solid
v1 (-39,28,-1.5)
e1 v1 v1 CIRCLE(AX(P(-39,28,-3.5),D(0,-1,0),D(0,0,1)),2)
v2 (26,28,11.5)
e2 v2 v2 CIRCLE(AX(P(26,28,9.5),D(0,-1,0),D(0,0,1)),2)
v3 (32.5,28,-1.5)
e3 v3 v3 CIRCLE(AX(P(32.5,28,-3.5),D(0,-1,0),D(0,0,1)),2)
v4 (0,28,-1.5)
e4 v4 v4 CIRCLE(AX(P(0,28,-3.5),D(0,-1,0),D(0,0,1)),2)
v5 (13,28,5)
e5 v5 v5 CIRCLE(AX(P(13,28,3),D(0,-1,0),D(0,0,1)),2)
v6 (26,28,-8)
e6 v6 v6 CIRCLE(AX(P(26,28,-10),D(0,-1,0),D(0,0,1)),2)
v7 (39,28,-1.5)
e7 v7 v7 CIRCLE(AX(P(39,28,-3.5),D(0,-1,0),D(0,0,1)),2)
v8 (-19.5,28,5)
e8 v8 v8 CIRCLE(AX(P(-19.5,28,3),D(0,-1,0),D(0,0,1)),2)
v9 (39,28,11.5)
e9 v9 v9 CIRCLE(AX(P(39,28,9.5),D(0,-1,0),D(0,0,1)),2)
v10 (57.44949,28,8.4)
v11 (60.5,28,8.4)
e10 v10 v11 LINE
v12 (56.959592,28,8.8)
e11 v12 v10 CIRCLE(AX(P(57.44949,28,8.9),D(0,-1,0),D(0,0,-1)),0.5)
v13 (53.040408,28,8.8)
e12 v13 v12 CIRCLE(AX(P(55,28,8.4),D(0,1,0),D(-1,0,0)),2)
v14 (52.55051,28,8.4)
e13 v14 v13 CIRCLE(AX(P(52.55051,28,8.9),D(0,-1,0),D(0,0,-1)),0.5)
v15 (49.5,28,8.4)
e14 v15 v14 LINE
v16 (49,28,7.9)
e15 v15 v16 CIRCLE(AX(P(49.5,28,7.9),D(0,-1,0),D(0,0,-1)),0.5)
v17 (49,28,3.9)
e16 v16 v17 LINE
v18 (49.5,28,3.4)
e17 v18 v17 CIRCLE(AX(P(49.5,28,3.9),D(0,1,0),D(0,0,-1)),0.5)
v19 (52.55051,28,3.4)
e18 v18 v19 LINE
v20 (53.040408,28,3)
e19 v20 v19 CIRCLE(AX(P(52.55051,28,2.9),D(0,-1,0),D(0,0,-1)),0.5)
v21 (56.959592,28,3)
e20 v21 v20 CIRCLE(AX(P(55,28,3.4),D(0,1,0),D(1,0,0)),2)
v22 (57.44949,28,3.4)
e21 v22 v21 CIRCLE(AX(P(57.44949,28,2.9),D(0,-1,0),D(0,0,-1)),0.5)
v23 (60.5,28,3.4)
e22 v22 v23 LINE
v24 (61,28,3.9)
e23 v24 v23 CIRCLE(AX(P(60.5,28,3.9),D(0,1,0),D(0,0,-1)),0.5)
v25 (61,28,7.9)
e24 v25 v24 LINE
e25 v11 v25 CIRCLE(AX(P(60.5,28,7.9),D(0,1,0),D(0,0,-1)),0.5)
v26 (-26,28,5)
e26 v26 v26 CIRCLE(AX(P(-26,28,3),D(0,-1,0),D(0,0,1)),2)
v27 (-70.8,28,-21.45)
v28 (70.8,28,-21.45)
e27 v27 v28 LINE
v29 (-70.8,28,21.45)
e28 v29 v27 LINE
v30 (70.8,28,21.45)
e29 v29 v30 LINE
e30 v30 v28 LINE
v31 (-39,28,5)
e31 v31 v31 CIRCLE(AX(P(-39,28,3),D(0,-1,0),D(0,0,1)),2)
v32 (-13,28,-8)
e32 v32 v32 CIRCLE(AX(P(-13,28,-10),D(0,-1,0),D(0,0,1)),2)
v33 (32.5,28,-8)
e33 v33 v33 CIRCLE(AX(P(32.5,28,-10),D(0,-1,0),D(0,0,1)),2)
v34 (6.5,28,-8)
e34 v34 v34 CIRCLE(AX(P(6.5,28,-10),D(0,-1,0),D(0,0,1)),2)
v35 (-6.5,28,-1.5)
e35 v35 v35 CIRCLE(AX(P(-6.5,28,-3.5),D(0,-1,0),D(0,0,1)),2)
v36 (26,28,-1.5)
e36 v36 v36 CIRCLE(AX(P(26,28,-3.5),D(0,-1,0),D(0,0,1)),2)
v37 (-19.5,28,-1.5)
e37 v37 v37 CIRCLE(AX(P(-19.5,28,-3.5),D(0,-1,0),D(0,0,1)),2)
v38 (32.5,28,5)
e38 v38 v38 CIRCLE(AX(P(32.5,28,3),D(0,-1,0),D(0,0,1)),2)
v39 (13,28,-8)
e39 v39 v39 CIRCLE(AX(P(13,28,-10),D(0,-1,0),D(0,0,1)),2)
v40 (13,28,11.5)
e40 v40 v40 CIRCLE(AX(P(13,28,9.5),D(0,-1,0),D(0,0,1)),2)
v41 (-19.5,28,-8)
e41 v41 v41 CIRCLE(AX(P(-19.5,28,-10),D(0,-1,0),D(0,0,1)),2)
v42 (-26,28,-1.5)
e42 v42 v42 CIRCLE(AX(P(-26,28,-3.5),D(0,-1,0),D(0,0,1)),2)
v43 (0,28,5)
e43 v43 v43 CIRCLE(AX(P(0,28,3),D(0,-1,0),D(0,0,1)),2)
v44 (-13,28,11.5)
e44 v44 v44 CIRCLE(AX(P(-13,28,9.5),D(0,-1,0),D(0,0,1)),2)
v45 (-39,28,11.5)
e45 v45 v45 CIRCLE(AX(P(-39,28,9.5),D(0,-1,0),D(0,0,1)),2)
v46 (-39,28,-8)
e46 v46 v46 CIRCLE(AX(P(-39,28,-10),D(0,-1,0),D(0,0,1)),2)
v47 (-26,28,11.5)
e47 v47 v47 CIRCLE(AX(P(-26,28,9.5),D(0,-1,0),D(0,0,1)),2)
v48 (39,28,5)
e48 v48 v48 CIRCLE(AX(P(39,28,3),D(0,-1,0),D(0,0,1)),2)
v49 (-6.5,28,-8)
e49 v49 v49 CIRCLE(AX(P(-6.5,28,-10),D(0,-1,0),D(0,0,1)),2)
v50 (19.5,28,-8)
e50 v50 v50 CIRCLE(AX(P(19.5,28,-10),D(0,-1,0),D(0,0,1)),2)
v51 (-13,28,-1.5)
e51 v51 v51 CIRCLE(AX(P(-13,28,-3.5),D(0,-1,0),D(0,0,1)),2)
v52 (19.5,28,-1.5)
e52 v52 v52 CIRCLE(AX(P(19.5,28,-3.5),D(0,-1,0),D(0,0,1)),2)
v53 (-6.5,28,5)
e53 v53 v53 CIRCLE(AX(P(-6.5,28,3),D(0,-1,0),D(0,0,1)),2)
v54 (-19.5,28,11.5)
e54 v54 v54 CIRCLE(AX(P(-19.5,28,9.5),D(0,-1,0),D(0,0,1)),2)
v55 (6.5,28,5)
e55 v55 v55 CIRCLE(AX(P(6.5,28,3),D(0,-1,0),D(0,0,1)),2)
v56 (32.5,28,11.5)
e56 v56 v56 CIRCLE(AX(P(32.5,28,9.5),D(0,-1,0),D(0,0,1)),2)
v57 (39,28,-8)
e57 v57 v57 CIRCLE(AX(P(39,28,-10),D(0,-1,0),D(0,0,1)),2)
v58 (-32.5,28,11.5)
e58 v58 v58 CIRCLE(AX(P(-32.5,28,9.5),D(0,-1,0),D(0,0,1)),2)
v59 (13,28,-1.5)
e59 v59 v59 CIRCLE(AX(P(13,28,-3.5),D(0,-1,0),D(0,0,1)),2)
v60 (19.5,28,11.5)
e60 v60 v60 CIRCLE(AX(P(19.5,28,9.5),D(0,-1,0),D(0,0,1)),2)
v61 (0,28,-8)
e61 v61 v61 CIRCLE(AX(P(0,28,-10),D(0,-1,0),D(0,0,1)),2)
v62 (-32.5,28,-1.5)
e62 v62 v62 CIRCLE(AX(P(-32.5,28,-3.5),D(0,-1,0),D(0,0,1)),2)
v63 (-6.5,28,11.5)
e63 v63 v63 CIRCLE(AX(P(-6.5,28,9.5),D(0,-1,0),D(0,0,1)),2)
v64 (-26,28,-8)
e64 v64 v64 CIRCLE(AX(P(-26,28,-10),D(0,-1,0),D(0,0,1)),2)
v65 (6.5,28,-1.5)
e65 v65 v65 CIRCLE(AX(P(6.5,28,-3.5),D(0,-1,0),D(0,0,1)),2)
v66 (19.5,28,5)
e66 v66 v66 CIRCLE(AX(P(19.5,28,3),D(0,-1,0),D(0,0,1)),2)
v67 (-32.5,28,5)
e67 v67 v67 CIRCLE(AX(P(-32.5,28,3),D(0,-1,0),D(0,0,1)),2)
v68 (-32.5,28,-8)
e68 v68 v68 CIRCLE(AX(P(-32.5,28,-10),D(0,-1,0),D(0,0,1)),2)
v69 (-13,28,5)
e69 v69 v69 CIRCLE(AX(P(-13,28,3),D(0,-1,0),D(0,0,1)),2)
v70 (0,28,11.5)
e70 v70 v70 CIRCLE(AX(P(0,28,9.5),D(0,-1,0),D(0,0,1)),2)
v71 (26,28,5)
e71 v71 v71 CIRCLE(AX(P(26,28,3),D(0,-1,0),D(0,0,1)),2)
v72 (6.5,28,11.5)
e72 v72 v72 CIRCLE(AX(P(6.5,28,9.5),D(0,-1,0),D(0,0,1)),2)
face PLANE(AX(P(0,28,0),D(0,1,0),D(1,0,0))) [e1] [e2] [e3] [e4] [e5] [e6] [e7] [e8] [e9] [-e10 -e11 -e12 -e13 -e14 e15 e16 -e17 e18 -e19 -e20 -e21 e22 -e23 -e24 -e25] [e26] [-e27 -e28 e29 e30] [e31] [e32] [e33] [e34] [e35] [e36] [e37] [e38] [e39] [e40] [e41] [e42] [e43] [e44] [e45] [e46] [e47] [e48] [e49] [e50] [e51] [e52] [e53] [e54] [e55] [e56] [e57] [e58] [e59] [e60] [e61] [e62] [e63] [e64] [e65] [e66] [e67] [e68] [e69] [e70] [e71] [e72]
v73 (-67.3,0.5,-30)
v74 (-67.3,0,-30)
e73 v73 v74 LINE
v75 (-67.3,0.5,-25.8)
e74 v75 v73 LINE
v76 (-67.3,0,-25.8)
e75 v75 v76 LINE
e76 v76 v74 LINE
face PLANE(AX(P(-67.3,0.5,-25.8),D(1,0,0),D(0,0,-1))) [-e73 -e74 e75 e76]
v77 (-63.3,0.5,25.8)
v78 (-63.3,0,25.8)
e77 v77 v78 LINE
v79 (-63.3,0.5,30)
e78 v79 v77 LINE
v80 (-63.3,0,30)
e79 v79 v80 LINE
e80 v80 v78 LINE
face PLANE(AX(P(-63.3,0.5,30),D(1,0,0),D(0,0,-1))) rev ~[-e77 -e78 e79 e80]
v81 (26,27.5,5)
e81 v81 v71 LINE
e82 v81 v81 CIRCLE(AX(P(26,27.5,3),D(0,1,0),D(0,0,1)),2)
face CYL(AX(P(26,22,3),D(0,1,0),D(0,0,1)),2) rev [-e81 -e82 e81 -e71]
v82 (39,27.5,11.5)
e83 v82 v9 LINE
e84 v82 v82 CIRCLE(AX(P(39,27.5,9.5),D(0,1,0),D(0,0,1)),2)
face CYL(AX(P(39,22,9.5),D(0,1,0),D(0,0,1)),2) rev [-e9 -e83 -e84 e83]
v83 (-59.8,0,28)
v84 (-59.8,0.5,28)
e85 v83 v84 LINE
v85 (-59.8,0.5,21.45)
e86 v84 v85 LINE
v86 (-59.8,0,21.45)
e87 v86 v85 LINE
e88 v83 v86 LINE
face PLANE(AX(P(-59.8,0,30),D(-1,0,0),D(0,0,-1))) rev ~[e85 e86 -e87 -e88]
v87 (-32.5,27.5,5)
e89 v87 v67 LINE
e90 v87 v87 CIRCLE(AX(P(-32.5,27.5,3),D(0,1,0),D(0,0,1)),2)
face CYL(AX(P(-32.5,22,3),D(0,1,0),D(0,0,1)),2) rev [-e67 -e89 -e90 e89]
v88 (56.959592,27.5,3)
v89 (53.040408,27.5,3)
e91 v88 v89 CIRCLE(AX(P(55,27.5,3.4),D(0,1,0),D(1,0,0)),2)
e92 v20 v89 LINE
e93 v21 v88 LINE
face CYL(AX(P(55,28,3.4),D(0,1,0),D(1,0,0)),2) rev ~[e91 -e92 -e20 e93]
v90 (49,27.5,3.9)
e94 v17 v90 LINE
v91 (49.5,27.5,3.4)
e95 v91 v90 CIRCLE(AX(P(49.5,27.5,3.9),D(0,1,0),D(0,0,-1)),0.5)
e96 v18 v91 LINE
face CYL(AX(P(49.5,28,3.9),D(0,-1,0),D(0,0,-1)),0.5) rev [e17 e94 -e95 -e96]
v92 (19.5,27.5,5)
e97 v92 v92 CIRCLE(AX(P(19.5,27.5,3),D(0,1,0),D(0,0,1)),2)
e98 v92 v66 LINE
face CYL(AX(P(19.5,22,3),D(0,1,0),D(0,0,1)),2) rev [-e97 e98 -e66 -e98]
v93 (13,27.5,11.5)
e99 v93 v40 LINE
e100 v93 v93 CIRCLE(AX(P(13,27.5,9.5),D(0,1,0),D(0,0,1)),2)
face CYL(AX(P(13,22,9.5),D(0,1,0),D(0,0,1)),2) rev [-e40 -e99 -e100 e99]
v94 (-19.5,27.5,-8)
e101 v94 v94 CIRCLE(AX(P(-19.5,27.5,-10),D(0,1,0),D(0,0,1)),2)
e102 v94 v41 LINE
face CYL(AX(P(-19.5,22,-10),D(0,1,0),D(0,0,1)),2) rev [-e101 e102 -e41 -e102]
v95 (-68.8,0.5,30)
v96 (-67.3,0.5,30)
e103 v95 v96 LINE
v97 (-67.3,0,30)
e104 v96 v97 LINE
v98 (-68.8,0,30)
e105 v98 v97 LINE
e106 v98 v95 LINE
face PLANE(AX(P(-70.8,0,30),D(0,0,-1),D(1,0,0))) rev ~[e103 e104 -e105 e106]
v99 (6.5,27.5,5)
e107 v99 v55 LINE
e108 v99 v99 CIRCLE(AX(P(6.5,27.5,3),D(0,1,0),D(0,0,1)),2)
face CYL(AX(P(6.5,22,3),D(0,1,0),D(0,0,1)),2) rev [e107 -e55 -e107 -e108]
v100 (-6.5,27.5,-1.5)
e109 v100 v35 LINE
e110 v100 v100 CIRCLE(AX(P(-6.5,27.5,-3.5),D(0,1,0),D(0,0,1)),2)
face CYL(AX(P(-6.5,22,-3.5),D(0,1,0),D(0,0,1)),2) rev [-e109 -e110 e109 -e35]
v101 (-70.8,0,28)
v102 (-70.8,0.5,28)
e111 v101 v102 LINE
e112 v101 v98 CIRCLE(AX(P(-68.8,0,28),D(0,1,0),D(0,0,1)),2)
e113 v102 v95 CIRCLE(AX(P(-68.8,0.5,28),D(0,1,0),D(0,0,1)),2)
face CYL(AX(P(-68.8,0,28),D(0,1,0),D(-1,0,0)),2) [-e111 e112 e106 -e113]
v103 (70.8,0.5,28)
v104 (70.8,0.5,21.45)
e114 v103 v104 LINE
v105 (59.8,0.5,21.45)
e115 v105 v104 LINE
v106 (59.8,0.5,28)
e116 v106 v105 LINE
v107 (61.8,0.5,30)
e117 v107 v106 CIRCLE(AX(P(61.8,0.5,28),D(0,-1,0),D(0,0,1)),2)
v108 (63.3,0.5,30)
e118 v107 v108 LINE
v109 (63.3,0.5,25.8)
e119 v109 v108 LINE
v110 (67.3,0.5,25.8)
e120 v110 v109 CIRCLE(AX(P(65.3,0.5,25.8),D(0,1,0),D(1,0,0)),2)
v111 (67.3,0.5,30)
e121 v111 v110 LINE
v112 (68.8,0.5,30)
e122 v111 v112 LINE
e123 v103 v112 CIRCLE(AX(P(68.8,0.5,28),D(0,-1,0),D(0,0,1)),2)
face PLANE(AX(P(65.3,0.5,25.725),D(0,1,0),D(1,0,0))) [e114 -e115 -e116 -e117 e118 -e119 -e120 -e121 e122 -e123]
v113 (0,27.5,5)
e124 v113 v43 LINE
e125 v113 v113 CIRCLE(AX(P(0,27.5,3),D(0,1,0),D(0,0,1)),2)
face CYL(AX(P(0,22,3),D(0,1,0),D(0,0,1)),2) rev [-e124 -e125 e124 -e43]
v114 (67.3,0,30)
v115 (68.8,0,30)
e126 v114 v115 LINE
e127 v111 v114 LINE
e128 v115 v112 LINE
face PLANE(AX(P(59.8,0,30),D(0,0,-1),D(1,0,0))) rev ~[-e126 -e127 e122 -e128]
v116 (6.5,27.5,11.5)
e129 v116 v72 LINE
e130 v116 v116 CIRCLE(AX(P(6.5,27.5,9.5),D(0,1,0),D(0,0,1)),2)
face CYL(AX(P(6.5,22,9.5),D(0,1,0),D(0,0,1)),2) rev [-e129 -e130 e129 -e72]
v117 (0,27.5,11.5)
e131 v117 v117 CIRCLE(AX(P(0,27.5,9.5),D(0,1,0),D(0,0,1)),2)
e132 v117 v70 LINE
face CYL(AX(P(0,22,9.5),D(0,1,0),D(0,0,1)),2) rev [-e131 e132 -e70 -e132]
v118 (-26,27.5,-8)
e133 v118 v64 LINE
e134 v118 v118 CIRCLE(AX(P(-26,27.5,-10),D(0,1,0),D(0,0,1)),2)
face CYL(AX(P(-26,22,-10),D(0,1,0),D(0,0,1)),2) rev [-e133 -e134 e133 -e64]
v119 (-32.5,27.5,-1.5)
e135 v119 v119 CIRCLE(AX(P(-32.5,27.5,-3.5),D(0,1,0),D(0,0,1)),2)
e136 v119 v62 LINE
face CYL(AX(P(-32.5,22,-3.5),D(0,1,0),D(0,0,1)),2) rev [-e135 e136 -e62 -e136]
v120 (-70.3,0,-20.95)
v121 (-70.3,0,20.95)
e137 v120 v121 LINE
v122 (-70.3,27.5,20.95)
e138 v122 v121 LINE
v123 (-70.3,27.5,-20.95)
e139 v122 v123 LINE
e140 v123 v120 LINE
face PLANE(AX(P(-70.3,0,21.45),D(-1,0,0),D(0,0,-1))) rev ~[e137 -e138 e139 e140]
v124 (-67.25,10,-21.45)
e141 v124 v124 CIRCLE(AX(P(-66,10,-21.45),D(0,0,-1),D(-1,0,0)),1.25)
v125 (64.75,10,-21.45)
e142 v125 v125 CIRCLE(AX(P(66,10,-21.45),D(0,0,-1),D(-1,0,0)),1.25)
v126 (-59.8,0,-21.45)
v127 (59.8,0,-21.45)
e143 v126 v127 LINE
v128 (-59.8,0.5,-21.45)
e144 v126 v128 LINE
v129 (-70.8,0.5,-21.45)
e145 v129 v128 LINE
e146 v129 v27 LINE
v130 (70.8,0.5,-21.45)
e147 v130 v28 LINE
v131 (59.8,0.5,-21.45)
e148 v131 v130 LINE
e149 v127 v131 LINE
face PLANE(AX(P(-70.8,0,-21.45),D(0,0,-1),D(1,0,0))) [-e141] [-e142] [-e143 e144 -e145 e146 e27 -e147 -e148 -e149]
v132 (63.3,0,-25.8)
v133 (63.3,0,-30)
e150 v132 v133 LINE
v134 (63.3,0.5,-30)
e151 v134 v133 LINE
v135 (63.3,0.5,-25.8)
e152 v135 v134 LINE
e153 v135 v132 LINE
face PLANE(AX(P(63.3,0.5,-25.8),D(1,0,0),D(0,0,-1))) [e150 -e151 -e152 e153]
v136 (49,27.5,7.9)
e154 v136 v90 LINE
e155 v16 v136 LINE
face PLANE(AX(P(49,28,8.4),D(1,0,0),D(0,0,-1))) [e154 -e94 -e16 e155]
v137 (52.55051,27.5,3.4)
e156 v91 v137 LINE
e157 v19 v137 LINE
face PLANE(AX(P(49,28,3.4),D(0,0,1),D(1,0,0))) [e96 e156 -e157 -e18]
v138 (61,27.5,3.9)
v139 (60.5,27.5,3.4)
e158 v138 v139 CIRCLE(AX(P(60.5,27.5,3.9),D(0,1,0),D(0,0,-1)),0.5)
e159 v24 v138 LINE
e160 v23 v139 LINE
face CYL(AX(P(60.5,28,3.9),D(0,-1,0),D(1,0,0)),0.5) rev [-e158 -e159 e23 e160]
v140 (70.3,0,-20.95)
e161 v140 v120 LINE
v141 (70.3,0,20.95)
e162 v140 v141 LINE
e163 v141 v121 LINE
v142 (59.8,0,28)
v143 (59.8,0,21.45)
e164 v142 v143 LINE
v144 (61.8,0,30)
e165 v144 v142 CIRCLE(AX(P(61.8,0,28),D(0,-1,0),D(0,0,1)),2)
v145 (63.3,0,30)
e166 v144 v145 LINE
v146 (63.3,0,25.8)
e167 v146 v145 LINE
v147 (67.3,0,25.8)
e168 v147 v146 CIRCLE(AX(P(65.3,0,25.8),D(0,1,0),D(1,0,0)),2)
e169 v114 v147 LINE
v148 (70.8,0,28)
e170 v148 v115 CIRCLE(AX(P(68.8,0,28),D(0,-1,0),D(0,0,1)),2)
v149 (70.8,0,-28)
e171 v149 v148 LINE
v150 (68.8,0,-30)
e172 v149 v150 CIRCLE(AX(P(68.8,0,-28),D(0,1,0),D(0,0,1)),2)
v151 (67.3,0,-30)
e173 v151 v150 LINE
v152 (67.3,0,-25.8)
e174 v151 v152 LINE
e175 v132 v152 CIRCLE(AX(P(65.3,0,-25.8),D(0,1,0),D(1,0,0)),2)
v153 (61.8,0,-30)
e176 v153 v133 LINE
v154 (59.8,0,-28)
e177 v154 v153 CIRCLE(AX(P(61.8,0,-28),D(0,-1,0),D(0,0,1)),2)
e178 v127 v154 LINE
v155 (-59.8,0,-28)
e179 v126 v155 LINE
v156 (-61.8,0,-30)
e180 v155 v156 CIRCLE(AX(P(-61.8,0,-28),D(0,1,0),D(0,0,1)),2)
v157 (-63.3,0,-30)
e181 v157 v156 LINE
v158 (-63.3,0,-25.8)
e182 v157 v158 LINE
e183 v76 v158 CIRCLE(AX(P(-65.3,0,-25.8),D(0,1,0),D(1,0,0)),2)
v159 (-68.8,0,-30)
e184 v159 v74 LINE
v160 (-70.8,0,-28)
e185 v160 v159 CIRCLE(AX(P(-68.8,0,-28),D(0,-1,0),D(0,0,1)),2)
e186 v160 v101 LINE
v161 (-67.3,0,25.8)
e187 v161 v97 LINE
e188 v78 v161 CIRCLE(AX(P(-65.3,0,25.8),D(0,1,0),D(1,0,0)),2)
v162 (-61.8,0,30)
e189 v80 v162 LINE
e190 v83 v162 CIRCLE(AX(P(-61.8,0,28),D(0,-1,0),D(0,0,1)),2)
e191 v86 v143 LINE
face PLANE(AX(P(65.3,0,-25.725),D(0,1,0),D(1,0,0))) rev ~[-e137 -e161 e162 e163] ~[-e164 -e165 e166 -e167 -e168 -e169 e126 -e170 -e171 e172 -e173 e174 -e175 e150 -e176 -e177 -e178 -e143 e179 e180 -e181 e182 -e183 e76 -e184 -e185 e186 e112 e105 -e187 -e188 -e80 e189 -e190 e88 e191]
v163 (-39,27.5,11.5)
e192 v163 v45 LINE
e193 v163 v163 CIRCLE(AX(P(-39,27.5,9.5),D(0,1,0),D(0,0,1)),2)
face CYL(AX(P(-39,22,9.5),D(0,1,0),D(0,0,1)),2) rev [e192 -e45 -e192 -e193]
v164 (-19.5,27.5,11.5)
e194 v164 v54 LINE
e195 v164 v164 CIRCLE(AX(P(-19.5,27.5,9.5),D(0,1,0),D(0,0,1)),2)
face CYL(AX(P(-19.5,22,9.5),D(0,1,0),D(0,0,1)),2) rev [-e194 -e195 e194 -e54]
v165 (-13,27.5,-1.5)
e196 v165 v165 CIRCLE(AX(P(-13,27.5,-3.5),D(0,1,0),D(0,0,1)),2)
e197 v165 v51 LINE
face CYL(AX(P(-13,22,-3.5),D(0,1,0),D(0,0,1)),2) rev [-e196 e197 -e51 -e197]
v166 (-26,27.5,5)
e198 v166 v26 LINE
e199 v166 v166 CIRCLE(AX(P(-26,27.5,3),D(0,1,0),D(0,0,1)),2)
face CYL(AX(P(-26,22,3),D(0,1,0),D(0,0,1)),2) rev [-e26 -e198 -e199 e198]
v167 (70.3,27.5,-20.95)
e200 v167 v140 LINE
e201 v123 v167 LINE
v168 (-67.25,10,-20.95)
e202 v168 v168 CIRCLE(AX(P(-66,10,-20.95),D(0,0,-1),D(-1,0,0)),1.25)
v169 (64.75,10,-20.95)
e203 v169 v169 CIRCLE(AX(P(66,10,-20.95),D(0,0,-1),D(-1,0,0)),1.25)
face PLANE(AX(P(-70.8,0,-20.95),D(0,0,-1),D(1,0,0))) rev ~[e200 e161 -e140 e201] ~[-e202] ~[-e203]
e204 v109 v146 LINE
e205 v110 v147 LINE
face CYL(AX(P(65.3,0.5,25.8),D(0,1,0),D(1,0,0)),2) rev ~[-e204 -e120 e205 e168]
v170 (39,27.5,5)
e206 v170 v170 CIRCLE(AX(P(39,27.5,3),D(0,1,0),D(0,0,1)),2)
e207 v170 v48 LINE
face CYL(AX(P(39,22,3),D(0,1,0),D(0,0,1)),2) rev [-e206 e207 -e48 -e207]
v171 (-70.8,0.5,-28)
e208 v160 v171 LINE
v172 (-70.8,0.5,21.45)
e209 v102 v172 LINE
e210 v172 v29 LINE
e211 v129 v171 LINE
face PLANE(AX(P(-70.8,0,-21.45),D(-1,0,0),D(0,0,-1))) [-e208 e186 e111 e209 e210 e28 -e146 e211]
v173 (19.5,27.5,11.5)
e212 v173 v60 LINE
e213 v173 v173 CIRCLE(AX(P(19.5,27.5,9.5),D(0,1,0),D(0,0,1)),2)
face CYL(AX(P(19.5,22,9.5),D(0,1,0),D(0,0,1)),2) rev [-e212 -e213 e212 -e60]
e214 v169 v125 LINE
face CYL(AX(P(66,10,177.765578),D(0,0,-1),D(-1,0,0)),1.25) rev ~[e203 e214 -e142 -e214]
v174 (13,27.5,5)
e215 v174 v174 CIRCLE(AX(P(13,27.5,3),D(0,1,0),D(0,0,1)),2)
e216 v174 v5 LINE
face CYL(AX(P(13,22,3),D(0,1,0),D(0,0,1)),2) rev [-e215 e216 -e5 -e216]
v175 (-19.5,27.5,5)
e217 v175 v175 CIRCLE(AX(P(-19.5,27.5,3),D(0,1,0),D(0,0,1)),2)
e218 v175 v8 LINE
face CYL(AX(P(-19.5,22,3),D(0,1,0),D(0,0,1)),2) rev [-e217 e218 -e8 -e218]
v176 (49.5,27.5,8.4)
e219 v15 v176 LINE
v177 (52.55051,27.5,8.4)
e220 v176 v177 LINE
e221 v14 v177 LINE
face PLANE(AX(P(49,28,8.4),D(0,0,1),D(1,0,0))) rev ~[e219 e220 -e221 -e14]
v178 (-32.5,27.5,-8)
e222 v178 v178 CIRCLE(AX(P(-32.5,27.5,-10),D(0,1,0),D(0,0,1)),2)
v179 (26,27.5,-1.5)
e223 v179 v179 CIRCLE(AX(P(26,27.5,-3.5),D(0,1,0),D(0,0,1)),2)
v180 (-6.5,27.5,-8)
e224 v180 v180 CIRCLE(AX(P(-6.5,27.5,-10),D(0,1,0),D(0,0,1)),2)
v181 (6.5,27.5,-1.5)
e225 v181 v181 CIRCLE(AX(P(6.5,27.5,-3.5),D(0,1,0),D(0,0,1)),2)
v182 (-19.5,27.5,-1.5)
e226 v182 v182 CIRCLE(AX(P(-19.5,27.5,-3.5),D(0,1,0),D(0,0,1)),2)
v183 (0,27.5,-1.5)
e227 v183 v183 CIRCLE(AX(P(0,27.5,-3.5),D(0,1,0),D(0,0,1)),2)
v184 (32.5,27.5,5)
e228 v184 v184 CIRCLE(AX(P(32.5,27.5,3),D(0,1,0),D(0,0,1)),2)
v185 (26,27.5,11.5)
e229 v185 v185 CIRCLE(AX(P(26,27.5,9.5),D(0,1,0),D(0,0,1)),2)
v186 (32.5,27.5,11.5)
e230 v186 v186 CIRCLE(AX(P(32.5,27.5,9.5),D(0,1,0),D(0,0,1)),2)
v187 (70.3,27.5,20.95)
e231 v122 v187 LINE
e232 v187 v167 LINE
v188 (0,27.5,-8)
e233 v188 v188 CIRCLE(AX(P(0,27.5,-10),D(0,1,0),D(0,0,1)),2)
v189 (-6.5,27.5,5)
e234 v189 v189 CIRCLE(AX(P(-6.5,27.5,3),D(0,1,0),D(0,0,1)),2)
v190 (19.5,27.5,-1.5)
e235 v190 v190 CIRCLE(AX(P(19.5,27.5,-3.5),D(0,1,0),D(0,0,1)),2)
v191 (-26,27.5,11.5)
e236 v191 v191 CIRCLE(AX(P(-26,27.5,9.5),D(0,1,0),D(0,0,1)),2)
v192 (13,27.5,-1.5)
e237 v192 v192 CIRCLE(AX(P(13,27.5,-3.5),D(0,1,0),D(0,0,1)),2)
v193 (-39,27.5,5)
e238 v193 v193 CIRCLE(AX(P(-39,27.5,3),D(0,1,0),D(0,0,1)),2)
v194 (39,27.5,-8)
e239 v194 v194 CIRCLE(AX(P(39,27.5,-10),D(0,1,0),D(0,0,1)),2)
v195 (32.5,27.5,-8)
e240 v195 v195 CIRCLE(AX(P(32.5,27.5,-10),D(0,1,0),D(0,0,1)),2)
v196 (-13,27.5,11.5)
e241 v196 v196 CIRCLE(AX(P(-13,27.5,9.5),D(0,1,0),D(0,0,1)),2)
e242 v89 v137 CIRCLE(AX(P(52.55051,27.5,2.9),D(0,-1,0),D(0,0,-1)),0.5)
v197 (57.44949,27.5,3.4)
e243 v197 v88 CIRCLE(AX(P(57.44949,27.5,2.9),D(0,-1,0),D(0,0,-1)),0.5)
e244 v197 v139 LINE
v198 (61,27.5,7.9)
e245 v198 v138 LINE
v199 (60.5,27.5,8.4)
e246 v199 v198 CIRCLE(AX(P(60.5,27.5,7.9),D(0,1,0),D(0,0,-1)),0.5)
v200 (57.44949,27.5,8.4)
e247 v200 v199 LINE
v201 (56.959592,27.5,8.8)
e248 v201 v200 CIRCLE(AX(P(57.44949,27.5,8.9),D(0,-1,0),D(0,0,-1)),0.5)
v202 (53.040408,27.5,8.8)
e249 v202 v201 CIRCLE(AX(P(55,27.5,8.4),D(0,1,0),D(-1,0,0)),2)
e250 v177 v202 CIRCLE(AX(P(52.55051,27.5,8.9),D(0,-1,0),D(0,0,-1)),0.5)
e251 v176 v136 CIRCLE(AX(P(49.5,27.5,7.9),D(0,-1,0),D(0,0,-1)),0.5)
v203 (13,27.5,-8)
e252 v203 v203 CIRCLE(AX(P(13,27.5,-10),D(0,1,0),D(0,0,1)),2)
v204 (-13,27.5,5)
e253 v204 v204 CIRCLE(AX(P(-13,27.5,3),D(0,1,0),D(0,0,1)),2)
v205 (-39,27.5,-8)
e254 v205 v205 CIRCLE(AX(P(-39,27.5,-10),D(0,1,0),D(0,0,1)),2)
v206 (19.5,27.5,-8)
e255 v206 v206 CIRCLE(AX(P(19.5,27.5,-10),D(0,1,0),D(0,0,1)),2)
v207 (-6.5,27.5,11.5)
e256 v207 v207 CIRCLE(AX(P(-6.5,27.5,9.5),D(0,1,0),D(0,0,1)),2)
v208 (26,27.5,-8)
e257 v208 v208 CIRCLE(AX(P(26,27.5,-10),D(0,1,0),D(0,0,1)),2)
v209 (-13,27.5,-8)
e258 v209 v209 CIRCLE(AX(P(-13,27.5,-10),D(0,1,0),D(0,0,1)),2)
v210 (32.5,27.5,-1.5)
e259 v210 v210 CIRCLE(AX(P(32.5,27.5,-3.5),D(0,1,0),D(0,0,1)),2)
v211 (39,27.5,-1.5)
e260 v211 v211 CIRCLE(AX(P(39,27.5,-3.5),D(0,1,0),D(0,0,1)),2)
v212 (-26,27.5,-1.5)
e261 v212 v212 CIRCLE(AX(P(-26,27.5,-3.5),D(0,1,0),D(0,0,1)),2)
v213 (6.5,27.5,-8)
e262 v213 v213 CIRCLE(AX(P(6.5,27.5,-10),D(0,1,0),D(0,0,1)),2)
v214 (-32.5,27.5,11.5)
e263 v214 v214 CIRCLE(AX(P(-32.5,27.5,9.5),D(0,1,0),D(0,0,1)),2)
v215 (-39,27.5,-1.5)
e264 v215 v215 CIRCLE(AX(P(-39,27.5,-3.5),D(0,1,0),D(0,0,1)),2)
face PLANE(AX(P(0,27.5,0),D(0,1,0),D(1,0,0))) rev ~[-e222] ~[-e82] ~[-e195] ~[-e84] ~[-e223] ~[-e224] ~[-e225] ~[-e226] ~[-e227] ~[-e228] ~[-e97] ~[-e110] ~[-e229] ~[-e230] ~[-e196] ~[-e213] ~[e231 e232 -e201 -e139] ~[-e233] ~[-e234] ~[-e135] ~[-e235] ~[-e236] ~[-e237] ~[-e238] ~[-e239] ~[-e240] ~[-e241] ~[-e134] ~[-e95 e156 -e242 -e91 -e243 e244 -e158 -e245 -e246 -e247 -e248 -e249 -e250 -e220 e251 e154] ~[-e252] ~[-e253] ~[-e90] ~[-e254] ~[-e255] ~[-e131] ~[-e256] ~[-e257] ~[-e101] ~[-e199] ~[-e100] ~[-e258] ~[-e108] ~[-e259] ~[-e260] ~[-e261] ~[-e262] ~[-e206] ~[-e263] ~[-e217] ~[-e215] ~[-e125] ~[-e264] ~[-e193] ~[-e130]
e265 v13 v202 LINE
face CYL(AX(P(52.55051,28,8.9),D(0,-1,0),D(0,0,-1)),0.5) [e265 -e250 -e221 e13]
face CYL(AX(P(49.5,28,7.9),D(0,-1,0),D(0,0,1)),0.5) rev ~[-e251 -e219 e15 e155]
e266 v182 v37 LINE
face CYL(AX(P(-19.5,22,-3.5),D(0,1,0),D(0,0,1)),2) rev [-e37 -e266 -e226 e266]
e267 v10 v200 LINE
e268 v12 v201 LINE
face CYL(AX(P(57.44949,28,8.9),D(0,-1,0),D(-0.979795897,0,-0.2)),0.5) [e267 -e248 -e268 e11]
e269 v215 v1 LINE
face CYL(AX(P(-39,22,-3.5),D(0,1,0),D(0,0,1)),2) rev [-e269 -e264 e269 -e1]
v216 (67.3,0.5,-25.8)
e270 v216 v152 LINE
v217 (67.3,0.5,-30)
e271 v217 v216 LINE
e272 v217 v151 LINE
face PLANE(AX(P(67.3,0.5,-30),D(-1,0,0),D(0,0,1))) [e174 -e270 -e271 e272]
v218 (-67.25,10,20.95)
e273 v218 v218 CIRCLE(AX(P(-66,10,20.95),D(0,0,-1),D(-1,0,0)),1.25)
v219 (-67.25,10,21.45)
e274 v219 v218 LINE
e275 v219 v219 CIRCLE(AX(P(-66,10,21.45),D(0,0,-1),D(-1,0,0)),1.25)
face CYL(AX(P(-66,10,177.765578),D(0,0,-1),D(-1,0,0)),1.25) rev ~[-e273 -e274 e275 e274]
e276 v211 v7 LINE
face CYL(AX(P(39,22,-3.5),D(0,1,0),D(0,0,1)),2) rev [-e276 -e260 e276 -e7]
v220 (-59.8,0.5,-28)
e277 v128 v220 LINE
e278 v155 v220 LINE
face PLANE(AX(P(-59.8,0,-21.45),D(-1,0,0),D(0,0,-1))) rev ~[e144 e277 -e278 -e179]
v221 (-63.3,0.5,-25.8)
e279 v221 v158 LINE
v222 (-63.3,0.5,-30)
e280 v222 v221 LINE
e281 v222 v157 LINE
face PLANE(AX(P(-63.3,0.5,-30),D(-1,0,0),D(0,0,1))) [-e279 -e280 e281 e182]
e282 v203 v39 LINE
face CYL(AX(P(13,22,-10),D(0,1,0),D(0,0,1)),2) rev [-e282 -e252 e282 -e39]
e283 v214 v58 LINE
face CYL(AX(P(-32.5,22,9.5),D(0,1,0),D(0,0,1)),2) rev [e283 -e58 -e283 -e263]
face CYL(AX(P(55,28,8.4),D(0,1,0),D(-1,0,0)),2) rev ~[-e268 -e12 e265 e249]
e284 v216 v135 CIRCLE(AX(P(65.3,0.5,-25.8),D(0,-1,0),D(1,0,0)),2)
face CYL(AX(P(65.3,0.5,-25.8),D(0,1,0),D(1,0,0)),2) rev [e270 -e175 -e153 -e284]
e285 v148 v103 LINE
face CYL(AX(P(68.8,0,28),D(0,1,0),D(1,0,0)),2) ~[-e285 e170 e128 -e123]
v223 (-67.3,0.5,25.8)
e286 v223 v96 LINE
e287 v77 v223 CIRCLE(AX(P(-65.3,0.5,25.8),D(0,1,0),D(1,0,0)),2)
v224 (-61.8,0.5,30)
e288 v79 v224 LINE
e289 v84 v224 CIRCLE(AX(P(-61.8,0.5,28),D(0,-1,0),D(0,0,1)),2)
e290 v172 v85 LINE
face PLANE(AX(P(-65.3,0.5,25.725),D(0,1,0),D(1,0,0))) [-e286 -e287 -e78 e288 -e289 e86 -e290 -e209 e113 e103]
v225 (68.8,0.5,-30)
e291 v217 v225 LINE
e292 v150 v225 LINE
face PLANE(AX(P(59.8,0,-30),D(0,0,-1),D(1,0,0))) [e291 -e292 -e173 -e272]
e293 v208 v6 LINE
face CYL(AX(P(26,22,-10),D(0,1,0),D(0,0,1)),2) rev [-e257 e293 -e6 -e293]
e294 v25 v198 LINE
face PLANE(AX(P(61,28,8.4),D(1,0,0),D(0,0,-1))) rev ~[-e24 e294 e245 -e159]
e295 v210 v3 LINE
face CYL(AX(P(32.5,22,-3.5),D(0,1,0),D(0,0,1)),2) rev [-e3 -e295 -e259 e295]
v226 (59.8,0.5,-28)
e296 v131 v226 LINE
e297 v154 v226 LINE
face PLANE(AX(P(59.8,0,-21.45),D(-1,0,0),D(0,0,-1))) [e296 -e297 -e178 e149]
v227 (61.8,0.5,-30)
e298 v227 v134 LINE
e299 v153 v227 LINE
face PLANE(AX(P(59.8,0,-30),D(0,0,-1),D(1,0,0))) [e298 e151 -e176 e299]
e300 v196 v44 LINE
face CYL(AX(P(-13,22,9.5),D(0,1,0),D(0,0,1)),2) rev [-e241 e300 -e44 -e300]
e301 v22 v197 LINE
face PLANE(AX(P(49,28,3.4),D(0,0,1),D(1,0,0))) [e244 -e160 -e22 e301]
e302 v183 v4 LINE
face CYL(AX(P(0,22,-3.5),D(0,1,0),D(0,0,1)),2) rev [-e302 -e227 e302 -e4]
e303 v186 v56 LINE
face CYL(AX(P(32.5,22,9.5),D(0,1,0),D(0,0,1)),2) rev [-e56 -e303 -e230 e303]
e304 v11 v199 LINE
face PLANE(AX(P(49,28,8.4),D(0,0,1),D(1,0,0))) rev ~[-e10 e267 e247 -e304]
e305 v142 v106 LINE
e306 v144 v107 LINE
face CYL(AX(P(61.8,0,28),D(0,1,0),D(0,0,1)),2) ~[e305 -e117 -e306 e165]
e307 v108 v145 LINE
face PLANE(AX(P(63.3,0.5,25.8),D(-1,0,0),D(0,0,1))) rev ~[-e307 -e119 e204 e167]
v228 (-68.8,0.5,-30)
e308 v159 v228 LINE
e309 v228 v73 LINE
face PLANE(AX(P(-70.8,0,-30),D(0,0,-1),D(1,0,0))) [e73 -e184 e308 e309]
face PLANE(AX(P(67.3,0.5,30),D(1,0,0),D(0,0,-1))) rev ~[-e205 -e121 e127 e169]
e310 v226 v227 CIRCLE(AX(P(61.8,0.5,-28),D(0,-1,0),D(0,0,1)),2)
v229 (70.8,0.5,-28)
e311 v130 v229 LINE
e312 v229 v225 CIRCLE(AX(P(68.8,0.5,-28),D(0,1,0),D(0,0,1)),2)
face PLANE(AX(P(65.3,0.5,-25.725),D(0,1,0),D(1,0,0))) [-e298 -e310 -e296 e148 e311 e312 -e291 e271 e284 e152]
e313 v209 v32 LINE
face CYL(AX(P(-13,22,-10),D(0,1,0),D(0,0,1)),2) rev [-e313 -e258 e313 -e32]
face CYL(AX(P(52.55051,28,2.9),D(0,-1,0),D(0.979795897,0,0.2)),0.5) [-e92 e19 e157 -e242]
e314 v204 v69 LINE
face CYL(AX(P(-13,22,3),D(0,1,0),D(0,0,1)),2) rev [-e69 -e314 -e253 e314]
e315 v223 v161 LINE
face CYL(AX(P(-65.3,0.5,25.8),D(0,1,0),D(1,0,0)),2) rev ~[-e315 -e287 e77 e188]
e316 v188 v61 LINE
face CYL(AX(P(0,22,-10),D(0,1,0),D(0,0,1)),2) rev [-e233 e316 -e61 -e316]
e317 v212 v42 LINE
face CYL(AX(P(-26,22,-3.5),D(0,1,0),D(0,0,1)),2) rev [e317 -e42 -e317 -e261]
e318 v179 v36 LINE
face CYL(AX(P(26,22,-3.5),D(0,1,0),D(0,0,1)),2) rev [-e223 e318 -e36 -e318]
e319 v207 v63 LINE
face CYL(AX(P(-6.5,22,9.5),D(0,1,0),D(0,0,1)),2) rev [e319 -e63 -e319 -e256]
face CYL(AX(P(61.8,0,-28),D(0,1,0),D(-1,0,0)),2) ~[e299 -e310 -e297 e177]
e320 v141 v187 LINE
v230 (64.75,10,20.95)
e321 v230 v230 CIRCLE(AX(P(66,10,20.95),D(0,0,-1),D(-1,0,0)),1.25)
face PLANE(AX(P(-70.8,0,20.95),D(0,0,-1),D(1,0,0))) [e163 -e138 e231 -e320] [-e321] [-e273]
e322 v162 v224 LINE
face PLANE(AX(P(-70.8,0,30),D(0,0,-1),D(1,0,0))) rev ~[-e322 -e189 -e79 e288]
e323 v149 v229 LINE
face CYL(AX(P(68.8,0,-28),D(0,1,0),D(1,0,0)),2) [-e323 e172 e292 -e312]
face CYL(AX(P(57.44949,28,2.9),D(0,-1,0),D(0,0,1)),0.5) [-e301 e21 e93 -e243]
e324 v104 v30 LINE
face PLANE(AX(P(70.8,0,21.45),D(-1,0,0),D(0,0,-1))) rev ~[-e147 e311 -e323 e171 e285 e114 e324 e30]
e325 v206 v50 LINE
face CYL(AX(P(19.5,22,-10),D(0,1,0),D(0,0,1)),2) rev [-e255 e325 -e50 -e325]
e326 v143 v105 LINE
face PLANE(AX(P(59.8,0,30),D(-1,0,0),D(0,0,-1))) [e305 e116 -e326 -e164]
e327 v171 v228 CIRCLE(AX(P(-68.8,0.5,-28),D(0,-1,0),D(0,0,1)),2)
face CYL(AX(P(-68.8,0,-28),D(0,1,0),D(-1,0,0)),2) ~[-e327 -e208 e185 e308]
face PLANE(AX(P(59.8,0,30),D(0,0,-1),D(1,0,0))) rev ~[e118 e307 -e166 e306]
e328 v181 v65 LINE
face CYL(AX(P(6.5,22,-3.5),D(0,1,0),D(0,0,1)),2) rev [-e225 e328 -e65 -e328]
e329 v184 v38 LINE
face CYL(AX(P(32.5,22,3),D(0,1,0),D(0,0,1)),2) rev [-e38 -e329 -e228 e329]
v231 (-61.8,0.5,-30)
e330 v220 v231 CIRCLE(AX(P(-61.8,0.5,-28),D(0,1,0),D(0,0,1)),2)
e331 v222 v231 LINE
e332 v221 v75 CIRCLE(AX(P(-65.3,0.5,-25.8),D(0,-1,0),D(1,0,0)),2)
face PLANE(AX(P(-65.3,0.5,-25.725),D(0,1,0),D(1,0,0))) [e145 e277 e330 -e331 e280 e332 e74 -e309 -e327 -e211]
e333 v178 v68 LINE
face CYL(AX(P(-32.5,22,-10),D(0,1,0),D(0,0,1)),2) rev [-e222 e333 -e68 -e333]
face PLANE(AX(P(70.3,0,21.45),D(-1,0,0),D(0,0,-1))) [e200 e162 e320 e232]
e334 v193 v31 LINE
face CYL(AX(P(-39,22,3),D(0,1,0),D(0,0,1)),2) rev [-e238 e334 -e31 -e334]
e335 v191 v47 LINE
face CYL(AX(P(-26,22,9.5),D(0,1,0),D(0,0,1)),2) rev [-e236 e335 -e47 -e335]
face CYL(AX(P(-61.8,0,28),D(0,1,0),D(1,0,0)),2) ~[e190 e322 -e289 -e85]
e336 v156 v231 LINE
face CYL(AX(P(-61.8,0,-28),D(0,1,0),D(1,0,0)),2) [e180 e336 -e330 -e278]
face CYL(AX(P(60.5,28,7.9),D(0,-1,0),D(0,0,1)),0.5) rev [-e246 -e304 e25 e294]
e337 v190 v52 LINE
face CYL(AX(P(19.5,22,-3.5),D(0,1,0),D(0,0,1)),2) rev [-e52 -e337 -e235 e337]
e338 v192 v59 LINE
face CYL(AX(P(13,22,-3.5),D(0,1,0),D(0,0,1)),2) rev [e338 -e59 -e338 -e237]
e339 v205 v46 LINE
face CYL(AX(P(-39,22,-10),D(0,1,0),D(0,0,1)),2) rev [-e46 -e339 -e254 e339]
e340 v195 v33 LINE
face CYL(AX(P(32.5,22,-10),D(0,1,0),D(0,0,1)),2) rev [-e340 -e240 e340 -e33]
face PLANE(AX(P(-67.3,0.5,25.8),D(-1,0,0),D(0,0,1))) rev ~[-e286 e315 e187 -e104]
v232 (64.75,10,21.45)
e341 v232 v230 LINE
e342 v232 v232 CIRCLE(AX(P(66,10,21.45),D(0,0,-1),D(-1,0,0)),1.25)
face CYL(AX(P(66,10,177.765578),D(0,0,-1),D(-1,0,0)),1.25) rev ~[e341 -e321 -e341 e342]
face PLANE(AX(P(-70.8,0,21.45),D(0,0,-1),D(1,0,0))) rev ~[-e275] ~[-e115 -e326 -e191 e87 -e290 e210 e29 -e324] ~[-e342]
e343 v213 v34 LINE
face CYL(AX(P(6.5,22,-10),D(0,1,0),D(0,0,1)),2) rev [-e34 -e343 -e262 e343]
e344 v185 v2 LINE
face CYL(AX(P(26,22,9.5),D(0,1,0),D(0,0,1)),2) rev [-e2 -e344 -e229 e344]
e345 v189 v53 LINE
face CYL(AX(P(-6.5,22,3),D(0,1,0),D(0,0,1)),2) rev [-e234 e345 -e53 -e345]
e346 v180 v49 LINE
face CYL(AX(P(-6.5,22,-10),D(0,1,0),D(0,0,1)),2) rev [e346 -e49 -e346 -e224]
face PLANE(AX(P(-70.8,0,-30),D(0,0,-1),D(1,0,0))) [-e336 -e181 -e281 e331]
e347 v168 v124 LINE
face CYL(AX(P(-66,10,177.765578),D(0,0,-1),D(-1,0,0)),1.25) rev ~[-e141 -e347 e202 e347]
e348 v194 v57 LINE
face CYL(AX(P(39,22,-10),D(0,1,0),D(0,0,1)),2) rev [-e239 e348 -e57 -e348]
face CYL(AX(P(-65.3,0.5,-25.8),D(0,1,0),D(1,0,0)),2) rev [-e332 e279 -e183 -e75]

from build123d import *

# Parameters (mm, degrees)
SCHIZZO1_W                   = 141.6
SCHIZZO1_H                   = 42.9
ESTRUSIONE_ESTRUSIONE1_DEPTH = 28
SVUOTA1_T                    = -0.5
RIPETIZIONE_A_L1_COUNT       = 13
RIPETIZIONE_A_L1_PITCH       = 6.5
RIPETIZIONE_A_L1_COUNT_DIR2  = 4
RIPETIZIONE_A_L1_PITCH_DIR2  = 6.5
SCHIZZO4_W                   = 12
SCHIZZO4_H                   = 5
TAGLIO_ESTRUSIONE1_DEPTH     = 28
TAGLIO_ESTRUSIONE2_DEPTH     = 28
SCHIZZO8_W                   = 11
SCHIZZO8_H                   = 8.55
ESTRUSIONE_ESTRUSIONE2_DEPTH = 0.5
TAGLIO_ESTRUSIONE3_DEPTH     = 10
RIPETIZIONE_A_L2_COUNT       = 2
RIPETIZIONE_A_L2_PITCH       = 130.6
FORO_FILETTATO_M3X0_5_1_D    = 2.5
RACCORDO2_R                  = 2
RACCORDO3_R                  = 0.5


with BuildPart() as part:
    # Schizzo1 → Estrusione-Estrusione1 (new body)
    with BuildSketch(Plane(origin=(0, 0, 0), x_dir=(1, 0, 0), z_dir=(0, 1, 0))):
        Rectangle(SCHIZZO1_W, SCHIZZO1_H)
    extrude(amount=ESTRUSIONE_ESTRUSIONE1_DEPTH)

    # Svuota1
    svuota1_openings = [part.faces().sort_by_distance(p)[0] for p in [
        (0, 0, 0),
    ]]
    offset(amount=SVUOTA1_T, openings=svuota1_openings, kind=Kind.INTERSECTION)

    # Schizzo2 → Foro Ø4.0 (4)-1 (revolve, cut)
    with BuildSketch(Plane(origin=(-39, 28, -10), x_dir=(0, 0, 1), z_dir=(1, 0, 0))):
        Polygon((0, 0), (0, 7.201721238), (2, 6), (2, 0), align=None)
    foro_4_0_4_1 = revolve(axis=Axis((-39, 34.35, -10), (0, -1, 0)), mode=Mode.SUBTRACT)

    # Ripetizione a L1: Foro _4.0 _4_-1 13 × 4
    with Locations(*[(i * RIPETIZIONE_A_L1_PITCH, 0, j * RIPETIZIONE_A_L1_PITCH_DIR2) for i in range(RIPETIZIONE_A_L1_COUNT) for j in range(RIPETIZIONE_A_L1_COUNT_DIR2) if (i, j) != (0, 0)]):
        add(foro_4_0_4_1, mode=Mode.SUBTRACT)

    # Schizzo4 → Taglio-Estrusione1 (cut)
    with BuildSketch(Plane(origin=(0, 28, 0), x_dir=(1, 0, 0), z_dir=(0, 1, 0))):
        with Locations((55, -5.9)):
            Rectangle(SCHIZZO4_W, SCHIZZO4_H)
    extrude(amount=-TAGLIO_ESTRUSIONE1_DEPTH, mode=Mode.SUBTRACT)

    # Schizzo6 → Taglio-Estrusione2 (cut)
    with BuildSketch(Plane(origin=(0, 28, 0), x_dir=(1, 0, 0), z_dir=(0, 1, 0))):
        with BuildLine():
            Line((53, -3.4), (57, -3.4))
            ThreePointArc((57, -3.4), (55, -1.4), (53, -3.4))
        make_face()
        with BuildLine():
            Line((57, -8.4), (53, -8.4))
            ThreePointArc((53, -8.4), (55, -10.4), (57, -8.4))
        make_face()
    extrude(amount=-TAGLIO_ESTRUSIONE2_DEPTH, mode=Mode.SUBTRACT)

    # Schizzo8 → Estrusione-Estrusione2 (add)
    with BuildSketch(Plane(origin=(0, 0, 0), x_dir=(1, 0, 0), z_dir=(0, 1, 0))):
        with Locations((-65.3, 25.725)):
            Rectangle(SCHIZZO8_W, SCHIZZO8_H)
        with Locations((-65.3, -25.725)):
            Rectangle(SCHIZZO8_W, SCHIZZO8_H)
    estrusione_estrusione2 = extrude(amount=ESTRUSIONE_ESTRUSIONE2_DEPTH)

    # Schizzo9 → Taglio-Estrusione3 (cut)
    with BuildSketch(Plane(origin=(0, 0.5, 0), x_dir=(1, 0, 0), z_dir=(0, 1, 0))):
        with BuildLine():
            Line((-67.3, 30), (-63.3, 30))
            Line((-63.3, 30), (-63.3, 25.8))
            ThreePointArc((-63.3, 25.8), (-65.3, 23.8), (-67.3, 25.8))
            Line((-67.3, 25.8), (-67.3, 30))
        make_face()
        with BuildLine():
            Line((-67.3, -30), (-63.3, -30))
            Line((-63.3, -30), (-63.3, -25.8))
            ThreePointArc((-63.3, -25.8), (-65.3, -23.8), (-67.3, -25.8))
            Line((-67.3, -25.8), (-67.3, -30))
        make_face()
    taglio_estrusione3 = extrude(amount=-TAGLIO_ESTRUSIONE3_DEPTH, mode=Mode.SUBTRACT)

    # Ripetizione a L2: Estrusione-Estrusione2, Taglio-Estrusione3 ×2
    with Locations(*[(i * RIPETIZIONE_A_L2_PITCH, 0, 0) for i in range(1, RIPETIZIONE_A_L2_COUNT)]):
        add(estrusione_estrusione2)
        add(taglio_estrusione3, mode=Mode.SUBTRACT)

    # Foro filettato M3x0.5-1 (through all)
    with Locations(Plane.XY.offset(21.45)):
        with Locations((-66, 10), (66, 10)):
            Hole(FORO_FILETTATO_M3X0_5_1_D / 2)

    # Raccordo2
    raccordo2_edges = [part.edges().sort_by_distance(p)[0] for p in [
        (-59.8, 0.25, -30),
        (-70.8, 0.25, -30),
        (-70.8, 0.25, 30),
        (-59.8, 0.25, 30),
        (59.8, 0.25, -30),
        (70.8, 0.25, -30),
        (59.8, 0.25, 30),
        (70.8, 0.25, 30),
    ]]
    fillet(raccordo2_edges, radius=RACCORDO2_R)

    # Raccordo3
    raccordo3_edges = [part.edges().sort_by_distance(p)[0] for p in [
        (61, 27.75, 3.4),
        (61, 27.75, 8.4),
        (49, 27.75, 8.4),
        (49, 27.75, 3.4),
        (57, 27.75, 3.4),
        (53, 27.75, 3.4),
        (53, 27.75, 8.4),
        (57, 27.75, 8.4),
    ]]
    fillet(raccordo3_edges, radius=RACCORDO3_R)


solid = part.part
